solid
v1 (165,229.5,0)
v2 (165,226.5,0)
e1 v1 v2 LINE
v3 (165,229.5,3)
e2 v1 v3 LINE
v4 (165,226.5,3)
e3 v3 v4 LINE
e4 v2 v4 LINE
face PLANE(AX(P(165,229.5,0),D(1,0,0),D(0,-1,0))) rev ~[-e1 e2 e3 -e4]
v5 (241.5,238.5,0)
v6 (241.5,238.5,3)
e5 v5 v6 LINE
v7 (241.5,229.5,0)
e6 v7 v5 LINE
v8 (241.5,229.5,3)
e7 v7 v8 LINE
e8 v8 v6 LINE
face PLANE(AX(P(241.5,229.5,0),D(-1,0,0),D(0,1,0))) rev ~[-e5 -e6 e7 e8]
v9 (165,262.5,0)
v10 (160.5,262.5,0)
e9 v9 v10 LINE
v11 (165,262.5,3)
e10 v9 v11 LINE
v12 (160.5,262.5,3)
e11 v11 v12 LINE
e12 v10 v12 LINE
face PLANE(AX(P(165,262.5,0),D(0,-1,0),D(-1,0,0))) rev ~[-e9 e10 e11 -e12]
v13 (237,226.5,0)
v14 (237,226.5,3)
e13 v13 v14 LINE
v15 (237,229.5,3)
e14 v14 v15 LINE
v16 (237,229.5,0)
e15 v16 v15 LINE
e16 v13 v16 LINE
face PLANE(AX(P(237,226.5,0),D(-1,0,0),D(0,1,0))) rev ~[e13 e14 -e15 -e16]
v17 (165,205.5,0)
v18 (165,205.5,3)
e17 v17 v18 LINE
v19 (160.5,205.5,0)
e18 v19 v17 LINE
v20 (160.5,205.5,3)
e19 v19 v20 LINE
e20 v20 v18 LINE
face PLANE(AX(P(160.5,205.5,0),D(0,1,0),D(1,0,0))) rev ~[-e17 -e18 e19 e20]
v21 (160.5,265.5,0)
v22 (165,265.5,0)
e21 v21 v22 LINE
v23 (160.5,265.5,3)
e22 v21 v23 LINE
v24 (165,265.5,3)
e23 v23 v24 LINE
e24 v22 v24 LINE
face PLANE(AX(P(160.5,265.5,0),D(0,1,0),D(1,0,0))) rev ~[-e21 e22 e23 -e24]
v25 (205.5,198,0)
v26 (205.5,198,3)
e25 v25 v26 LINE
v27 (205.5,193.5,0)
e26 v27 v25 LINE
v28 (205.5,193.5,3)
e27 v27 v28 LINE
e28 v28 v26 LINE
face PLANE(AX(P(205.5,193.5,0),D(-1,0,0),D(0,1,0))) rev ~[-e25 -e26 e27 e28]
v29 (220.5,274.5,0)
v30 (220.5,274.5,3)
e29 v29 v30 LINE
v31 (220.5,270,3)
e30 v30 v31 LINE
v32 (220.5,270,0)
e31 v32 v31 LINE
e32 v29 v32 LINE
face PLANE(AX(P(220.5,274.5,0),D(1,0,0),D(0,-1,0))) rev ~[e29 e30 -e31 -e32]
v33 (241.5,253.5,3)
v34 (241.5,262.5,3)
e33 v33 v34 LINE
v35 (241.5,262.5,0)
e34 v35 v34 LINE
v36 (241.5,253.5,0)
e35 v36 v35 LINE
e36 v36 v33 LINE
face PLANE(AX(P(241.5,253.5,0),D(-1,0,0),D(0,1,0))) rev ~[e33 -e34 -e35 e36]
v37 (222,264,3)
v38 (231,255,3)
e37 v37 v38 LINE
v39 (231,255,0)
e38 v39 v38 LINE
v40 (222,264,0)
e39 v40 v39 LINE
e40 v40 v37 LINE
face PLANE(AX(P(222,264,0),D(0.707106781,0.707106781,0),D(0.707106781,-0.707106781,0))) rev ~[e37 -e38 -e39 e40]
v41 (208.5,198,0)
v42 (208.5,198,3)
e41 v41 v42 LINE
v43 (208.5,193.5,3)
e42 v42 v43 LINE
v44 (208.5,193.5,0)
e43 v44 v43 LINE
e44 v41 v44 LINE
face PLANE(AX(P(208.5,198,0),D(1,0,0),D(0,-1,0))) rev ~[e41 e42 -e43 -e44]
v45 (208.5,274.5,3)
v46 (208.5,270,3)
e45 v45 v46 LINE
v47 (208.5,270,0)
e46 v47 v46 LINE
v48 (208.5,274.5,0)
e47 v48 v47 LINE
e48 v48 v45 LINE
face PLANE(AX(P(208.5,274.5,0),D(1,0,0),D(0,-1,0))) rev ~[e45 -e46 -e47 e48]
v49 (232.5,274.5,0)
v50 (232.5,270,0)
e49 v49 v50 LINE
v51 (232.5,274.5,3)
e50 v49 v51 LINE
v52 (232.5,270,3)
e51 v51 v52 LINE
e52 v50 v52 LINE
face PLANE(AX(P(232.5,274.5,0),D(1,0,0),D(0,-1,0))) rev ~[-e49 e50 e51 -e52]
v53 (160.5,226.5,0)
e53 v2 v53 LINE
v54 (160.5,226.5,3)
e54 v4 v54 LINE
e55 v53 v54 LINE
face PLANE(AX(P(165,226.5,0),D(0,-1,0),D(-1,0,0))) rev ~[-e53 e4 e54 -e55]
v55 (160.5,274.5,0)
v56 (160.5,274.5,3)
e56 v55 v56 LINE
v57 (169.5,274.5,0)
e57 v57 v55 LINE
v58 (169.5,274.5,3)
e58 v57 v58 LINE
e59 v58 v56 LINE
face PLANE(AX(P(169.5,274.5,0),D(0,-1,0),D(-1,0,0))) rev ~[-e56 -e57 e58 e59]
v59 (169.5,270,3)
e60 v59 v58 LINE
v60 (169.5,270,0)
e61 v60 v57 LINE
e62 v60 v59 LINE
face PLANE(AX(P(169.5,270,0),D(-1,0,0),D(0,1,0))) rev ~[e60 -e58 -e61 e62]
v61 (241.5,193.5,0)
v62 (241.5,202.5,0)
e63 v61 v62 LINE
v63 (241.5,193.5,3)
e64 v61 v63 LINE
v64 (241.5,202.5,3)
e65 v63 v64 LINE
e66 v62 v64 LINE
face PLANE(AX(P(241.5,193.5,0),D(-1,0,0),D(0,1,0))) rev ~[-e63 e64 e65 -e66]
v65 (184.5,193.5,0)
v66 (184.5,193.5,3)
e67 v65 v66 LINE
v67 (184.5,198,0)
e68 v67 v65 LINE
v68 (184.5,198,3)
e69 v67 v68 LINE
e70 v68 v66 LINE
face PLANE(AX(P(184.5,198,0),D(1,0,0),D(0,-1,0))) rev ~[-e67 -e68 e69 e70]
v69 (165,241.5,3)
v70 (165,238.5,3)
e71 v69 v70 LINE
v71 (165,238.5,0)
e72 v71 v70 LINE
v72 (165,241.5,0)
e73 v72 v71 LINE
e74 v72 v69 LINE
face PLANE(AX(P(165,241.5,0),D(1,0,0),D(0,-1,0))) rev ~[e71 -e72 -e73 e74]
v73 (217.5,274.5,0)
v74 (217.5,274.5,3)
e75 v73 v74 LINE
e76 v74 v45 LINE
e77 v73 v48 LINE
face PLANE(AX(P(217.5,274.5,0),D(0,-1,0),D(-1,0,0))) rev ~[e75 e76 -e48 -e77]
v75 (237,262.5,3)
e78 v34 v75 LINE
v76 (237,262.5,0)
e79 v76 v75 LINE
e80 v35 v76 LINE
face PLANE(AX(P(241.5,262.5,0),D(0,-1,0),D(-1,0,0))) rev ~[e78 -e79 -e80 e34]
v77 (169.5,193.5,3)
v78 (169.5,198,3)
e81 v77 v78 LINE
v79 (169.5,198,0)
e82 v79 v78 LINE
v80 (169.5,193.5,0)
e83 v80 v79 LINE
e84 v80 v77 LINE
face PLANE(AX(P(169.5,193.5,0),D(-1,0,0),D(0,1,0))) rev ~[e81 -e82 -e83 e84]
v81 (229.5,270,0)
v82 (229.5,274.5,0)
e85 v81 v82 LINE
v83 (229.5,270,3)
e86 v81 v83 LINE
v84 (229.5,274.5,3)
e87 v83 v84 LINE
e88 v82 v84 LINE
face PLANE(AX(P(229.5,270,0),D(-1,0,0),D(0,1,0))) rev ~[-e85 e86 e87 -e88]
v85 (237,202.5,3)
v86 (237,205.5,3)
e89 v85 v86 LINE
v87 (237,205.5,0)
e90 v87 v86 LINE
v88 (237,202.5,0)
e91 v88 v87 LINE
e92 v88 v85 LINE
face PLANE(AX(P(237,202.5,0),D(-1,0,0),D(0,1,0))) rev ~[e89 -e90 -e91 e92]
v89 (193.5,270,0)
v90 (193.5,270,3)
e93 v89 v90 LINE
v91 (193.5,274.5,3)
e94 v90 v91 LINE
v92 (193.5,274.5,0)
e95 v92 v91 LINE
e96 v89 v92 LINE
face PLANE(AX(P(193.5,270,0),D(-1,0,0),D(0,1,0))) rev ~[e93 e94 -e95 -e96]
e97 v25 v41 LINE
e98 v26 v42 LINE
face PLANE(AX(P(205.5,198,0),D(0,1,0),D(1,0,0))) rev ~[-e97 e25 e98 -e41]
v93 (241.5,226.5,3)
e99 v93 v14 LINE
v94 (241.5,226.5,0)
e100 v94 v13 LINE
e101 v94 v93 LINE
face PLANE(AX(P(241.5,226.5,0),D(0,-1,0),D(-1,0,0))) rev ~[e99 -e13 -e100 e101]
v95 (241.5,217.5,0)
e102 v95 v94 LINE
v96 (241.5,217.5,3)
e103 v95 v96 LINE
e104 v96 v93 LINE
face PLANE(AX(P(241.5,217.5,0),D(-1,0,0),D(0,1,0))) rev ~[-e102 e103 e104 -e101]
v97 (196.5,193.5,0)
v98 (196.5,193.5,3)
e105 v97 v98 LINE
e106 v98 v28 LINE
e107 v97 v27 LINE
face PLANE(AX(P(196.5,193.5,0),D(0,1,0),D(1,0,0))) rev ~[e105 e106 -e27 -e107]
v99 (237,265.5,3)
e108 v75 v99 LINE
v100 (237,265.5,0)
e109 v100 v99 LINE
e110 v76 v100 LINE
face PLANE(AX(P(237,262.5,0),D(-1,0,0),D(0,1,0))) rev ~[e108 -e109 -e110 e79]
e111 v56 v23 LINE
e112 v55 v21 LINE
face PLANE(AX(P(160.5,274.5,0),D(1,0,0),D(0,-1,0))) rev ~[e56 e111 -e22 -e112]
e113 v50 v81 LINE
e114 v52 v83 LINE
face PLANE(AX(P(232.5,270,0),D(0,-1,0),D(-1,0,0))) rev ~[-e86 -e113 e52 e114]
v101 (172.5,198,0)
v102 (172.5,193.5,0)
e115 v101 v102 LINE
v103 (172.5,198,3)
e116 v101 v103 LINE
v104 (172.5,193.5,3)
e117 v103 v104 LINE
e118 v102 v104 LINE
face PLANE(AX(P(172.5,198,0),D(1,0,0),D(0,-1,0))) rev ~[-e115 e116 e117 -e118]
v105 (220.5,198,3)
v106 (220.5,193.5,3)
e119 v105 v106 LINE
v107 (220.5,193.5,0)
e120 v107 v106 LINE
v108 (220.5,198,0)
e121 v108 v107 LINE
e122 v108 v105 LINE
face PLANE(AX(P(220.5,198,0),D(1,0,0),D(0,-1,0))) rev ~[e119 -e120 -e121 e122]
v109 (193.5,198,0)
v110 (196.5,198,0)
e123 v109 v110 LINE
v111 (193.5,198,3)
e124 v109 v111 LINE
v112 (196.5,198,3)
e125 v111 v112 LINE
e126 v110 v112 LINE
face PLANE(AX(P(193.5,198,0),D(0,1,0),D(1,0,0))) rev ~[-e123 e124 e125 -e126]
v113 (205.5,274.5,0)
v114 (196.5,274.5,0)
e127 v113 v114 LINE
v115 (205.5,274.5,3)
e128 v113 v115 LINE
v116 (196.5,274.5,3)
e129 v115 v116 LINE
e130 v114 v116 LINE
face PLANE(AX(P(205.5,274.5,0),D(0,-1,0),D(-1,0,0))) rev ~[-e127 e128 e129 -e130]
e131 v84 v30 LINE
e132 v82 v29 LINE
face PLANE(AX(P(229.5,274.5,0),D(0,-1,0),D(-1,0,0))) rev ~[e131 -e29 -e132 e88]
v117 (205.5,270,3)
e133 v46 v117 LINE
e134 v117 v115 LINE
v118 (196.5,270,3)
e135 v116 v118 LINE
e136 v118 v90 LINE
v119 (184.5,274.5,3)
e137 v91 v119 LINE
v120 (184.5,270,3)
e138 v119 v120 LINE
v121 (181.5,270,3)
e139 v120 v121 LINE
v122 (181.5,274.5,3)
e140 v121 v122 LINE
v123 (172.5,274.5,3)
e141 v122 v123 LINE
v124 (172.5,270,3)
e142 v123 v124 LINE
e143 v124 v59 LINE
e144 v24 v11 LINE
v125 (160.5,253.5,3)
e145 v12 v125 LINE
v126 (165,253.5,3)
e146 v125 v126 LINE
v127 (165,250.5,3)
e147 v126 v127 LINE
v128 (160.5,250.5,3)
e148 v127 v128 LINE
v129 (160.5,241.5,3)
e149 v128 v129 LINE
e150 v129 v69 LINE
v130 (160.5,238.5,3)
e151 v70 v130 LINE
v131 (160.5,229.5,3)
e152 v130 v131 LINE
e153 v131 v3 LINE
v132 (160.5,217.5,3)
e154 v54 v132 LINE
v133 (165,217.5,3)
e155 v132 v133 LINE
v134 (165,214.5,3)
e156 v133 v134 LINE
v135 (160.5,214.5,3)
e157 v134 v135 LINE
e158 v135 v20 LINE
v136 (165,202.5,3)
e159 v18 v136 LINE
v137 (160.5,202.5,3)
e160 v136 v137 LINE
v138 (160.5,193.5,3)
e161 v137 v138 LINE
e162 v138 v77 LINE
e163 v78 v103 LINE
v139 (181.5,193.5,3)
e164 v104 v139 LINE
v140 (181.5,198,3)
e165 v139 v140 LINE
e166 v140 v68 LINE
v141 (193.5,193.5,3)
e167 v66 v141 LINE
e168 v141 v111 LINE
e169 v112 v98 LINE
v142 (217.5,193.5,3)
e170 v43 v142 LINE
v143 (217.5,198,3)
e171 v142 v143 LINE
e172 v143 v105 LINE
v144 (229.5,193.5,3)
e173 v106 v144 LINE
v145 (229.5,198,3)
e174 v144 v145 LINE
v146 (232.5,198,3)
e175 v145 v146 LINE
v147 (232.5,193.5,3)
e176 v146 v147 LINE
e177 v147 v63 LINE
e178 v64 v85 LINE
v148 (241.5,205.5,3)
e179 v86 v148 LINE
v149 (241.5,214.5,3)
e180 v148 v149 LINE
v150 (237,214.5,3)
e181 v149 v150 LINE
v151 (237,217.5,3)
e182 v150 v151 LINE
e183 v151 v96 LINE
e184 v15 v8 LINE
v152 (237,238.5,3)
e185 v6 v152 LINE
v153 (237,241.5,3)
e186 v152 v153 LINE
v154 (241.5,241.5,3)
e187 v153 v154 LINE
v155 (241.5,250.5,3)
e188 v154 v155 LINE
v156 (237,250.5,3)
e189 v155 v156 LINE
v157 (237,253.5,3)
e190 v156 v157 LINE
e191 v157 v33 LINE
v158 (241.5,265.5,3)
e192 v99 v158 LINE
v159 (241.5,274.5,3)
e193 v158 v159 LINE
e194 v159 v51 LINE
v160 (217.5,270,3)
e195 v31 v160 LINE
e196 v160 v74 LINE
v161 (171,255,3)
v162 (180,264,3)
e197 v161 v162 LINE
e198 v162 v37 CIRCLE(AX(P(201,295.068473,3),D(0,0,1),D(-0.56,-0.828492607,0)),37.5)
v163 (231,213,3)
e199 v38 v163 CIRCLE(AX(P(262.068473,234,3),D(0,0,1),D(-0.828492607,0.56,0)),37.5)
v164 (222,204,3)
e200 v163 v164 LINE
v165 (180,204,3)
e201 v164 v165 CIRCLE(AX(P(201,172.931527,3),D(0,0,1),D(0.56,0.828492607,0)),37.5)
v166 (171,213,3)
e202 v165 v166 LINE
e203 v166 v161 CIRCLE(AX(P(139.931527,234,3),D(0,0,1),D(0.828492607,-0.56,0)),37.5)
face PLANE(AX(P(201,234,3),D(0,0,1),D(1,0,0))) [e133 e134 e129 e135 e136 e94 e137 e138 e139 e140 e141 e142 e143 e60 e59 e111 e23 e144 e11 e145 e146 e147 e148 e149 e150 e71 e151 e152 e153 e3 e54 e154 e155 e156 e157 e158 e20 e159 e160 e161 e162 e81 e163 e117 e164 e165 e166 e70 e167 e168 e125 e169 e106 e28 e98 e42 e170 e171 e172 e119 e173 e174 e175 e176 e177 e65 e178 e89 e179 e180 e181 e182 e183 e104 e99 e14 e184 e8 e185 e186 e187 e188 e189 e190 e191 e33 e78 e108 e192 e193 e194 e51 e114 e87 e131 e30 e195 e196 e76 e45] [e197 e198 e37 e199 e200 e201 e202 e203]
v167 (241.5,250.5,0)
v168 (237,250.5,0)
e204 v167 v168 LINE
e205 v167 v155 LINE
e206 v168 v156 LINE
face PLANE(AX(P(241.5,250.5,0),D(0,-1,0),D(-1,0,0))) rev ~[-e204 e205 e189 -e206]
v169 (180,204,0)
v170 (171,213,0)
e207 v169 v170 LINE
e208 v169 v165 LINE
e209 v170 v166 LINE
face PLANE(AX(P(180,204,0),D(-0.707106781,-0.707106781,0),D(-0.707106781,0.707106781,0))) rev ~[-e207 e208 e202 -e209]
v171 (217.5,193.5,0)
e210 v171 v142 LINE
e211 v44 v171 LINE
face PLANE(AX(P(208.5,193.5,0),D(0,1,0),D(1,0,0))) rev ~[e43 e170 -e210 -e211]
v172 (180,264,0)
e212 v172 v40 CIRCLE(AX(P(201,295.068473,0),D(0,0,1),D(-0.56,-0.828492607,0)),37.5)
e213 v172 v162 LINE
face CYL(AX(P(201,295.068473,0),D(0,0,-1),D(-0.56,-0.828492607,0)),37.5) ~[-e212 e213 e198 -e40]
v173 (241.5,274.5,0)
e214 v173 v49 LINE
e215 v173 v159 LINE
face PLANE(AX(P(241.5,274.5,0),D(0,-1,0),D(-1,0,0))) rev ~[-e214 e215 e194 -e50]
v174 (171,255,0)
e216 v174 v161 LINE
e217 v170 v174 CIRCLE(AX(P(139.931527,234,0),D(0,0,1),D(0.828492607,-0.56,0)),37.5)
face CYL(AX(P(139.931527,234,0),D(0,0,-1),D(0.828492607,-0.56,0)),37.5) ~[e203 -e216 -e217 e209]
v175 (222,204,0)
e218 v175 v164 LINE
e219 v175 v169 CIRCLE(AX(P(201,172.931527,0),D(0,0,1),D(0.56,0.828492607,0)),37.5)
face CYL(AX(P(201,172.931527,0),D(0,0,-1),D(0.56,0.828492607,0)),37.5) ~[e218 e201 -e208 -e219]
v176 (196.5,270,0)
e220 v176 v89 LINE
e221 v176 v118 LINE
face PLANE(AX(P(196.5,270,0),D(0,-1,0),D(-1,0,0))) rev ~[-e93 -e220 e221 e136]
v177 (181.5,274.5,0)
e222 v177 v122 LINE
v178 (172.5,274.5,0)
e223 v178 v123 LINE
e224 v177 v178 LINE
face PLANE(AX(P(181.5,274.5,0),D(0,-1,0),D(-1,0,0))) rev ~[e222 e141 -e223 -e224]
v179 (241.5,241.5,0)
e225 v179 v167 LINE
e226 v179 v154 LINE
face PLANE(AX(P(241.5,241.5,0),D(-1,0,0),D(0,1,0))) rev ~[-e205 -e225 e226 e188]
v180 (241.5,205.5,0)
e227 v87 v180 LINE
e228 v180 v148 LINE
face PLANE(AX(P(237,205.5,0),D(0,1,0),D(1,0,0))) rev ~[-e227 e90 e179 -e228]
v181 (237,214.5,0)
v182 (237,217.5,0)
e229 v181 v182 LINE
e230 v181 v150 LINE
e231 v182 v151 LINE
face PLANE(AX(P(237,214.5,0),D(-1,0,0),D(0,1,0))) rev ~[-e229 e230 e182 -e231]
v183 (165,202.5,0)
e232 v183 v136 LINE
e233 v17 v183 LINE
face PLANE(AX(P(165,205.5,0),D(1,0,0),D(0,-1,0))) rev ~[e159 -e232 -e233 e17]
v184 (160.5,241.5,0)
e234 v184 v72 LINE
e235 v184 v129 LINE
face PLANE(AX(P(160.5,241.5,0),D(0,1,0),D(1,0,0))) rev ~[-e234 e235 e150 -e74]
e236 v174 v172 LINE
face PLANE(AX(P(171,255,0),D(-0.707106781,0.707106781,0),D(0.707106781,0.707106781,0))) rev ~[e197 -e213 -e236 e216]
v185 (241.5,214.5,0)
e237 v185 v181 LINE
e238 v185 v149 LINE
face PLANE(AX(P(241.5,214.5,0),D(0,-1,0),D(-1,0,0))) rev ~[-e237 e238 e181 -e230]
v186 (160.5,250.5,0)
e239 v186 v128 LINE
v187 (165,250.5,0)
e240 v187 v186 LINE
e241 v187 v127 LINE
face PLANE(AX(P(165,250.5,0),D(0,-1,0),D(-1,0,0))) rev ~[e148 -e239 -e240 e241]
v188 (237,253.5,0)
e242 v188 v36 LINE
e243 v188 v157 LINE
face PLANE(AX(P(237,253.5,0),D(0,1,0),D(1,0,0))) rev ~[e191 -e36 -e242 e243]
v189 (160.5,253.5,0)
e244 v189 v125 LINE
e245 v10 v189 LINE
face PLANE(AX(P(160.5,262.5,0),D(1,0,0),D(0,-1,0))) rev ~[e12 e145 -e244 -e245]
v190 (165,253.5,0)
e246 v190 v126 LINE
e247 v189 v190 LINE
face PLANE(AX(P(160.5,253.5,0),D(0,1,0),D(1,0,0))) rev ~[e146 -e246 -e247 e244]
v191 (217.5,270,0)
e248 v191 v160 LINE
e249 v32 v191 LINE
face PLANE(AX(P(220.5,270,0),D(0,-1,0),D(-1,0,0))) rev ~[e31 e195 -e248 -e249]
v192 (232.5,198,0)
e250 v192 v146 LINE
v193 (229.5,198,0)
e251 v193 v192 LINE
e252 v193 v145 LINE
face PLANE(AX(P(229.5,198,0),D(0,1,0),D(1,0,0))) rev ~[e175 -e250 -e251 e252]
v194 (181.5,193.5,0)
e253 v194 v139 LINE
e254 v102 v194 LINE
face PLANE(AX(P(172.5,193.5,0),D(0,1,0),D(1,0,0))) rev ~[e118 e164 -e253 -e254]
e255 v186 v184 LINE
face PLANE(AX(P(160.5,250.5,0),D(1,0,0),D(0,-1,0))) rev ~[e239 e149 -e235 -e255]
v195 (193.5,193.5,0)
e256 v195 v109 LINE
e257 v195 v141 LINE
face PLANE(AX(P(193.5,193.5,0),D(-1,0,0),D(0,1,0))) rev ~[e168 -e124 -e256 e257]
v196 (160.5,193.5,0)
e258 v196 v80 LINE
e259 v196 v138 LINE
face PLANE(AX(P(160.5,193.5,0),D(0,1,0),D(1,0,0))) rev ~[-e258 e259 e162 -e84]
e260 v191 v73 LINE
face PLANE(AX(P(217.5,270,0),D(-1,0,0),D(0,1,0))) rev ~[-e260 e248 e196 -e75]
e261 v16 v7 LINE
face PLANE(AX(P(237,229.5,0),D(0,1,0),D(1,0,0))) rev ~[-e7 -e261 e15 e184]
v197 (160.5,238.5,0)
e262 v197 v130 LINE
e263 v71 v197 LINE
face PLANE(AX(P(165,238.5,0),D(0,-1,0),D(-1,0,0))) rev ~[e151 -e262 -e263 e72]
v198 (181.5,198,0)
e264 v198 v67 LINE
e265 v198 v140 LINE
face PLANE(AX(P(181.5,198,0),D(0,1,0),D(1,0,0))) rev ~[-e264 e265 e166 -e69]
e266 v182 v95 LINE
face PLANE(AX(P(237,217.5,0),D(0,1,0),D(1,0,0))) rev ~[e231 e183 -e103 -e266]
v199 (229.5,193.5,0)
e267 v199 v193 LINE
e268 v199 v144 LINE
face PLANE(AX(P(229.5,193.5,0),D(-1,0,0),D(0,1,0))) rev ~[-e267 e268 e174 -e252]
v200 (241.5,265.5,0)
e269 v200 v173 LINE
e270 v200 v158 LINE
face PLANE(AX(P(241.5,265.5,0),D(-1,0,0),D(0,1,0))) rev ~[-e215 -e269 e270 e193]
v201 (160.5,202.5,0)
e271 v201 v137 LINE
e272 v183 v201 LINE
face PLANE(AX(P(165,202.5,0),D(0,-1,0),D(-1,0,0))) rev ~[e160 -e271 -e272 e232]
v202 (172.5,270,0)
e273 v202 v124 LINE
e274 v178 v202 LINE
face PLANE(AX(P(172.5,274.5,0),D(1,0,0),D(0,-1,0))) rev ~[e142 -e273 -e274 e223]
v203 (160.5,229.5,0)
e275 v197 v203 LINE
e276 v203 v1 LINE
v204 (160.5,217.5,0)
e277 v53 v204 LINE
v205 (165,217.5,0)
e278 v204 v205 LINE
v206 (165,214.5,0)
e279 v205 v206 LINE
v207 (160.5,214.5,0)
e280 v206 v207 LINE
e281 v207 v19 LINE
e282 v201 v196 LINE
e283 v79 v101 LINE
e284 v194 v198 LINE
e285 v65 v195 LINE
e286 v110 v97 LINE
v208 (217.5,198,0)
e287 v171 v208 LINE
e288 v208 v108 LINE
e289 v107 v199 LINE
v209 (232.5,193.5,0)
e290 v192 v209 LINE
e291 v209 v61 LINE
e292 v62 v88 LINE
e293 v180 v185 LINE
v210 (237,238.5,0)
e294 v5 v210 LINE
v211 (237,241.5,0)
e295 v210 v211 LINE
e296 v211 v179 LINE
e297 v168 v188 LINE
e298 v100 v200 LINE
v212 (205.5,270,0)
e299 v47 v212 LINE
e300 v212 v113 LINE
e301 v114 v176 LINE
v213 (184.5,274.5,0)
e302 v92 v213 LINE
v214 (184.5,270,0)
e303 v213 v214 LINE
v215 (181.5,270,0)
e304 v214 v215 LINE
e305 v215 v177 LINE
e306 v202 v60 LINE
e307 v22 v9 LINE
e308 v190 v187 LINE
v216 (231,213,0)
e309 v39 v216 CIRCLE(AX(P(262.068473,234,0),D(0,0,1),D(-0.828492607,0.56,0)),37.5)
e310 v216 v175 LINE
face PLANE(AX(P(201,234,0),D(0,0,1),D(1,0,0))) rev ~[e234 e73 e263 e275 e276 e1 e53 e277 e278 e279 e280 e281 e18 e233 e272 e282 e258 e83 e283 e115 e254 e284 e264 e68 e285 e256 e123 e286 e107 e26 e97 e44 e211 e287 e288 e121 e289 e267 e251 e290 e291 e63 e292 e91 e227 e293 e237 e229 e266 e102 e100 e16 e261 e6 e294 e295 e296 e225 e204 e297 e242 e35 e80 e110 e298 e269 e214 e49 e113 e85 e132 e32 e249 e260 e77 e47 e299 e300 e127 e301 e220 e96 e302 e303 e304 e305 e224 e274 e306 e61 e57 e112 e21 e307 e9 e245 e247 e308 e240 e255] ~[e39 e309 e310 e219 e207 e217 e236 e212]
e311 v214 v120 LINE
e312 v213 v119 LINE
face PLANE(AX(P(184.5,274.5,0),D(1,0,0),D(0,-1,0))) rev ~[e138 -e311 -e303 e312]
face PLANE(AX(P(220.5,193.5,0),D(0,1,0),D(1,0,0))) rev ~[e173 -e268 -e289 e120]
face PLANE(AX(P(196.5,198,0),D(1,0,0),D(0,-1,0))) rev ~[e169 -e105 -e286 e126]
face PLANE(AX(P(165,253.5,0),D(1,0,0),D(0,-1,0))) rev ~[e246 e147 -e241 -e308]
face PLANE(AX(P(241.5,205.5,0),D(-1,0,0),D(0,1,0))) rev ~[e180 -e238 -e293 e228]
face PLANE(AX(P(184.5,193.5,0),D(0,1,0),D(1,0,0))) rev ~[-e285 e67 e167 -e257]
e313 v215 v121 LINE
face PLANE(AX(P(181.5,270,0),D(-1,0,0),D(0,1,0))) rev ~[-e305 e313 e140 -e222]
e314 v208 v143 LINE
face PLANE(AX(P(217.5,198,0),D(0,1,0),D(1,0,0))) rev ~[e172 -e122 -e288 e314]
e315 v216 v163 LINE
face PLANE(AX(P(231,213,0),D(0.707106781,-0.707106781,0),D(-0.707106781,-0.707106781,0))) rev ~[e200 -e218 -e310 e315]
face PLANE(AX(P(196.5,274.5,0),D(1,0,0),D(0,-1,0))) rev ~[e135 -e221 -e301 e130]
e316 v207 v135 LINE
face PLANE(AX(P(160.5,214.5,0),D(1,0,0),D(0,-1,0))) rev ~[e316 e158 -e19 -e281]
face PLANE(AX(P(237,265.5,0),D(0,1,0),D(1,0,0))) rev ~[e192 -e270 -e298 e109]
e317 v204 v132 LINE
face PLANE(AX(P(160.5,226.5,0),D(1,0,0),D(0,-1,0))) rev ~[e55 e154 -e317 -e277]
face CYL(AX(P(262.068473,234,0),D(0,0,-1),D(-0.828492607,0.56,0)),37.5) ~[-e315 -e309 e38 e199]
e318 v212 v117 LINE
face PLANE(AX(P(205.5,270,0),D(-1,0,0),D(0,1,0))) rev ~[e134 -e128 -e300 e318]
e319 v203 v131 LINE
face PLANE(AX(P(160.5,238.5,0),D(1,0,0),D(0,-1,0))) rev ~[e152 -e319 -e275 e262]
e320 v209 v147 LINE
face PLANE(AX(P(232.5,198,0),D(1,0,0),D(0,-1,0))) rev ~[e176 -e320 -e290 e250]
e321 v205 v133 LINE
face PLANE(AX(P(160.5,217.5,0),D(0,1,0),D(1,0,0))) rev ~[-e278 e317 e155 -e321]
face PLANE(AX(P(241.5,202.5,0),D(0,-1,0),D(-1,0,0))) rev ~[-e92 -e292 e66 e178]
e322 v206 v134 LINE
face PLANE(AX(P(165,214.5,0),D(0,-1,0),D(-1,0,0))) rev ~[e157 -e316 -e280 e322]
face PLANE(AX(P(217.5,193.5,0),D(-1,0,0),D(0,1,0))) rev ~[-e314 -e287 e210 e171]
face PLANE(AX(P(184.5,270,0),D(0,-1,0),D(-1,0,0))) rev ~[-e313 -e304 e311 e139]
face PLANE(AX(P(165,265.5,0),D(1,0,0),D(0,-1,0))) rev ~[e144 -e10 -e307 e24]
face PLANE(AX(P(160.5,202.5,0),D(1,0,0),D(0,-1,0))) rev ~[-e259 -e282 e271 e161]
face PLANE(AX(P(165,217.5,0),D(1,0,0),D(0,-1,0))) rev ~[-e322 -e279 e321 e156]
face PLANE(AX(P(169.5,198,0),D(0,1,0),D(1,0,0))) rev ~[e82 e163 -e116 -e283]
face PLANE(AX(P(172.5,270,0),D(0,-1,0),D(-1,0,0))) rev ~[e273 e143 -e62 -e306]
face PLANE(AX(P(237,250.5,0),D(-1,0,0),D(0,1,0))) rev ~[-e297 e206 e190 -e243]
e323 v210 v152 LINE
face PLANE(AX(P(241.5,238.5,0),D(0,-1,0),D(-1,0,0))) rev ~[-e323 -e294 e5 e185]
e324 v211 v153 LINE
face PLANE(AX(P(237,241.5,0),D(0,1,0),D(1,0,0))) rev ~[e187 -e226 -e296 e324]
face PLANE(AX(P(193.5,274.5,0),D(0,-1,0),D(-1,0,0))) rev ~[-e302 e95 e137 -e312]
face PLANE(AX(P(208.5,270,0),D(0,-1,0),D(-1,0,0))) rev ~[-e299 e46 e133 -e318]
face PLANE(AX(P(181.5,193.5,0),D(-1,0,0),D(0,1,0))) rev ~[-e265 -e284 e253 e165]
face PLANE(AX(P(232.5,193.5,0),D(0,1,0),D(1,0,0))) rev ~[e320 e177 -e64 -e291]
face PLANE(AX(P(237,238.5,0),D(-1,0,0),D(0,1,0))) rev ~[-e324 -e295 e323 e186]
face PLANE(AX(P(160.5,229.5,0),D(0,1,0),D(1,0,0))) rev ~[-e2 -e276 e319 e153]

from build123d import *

# Parameters (mm, degrees)
BOSS_EXTRUDE1_DEPTH = 3


with BuildPart() as part:
    # Sketch1 → Boss-Extrude1 (new body)
    with BuildSketch(Plane.XY):
        Polygon((237, 253.5), (241.5, 253.5), (241.5, 262.5), (237, 262.5), (237, 265.5), (241.5, 265.5), (241.5, 274.5), (232.5, 274.5), (232.5, 270), (229.5, 270), (229.5, 274.5), (220.5, 274.5), (220.5, 270), (217.5, 270), (217.5, 274.5), (208.5, 274.5), (208.5, 270), (205.5, 270), (205.5, 274.5), (196.5, 274.5), (196.5, 270), (193.5, 270), (193.5, 274.5), (184.5, 274.5), (184.5, 270), (181.5, 270), (181.5, 274.5), (172.5, 274.5), (172.5, 270), (169.5, 270), (169.5, 274.5), (160.5, 274.5), (160.5, 265.5), (165, 265.5), (165, 262.5), (160.5, 262.5), (160.5, 253.5), (165, 253.5), (165, 250.5), (160.5, 250.5), (160.5, 241.5), (165, 241.5), (165, 238.5), (160.5, 238.5), (160.5, 229.5), (165, 229.5), (165, 226.5), (160.5, 226.5), (160.5, 217.5), (165, 217.5), (165, 214.5), (160.5, 214.5), (160.5, 205.5), (165, 205.5), (165, 202.5), (160.5, 202.5), (160.5, 193.5), (169.5, 193.5), (169.5, 198), (172.5, 198), (172.5, 193.5), (181.5, 193.5), (181.5, 198), (184.5, 198), (184.5, 193.5), (193.5, 193.5), (193.5, 198), (196.5, 198), (196.5, 193.5), (205.5, 193.5), (205.5, 198), (208.5, 198), (208.5, 193.5), (217.5, 193.5), (217.5, 198), (220.5, 198), (220.5, 193.5), (229.5, 193.5), (229.5, 198), (232.5, 198), (232.5, 193.5), (241.5, 193.5), (241.5, 202.5), (237, 202.5), (237, 205.5), (241.5, 205.5), (241.5, 214.5), (237, 214.5), (237, 217.5), (241.5, 217.5), (241.5, 226.5), (237, 226.5), (237, 229.5), (241.5, 229.5), (241.5, 238.5), (237, 238.5), (237, 241.5), (241.5, 241.5), (241.5, 250.5), (237, 250.5), align=None)
        with BuildLine():
            Line((180, 204), (171, 213))
            ThreePointArc((171, 213), (177.431527234, 234), (171, 255))
            Line((171, 255), (180, 264))
            ThreePointArc((180, 264), (201, 257.568472766), (222, 264))
            Line((222, 264), (231, 255))
            ThreePointArc((231, 255), (224.568472766, 234), (231, 213))
            Line((231, 213), (222, 204))
            ThreePointArc((222, 204), (201, 210.431527234), (180, 204))
        make_face(mode=Mode.SUBTRACT)
    extrude(amount=BOSS_EXTRUDE1_DEPTH)


solid = part.part
